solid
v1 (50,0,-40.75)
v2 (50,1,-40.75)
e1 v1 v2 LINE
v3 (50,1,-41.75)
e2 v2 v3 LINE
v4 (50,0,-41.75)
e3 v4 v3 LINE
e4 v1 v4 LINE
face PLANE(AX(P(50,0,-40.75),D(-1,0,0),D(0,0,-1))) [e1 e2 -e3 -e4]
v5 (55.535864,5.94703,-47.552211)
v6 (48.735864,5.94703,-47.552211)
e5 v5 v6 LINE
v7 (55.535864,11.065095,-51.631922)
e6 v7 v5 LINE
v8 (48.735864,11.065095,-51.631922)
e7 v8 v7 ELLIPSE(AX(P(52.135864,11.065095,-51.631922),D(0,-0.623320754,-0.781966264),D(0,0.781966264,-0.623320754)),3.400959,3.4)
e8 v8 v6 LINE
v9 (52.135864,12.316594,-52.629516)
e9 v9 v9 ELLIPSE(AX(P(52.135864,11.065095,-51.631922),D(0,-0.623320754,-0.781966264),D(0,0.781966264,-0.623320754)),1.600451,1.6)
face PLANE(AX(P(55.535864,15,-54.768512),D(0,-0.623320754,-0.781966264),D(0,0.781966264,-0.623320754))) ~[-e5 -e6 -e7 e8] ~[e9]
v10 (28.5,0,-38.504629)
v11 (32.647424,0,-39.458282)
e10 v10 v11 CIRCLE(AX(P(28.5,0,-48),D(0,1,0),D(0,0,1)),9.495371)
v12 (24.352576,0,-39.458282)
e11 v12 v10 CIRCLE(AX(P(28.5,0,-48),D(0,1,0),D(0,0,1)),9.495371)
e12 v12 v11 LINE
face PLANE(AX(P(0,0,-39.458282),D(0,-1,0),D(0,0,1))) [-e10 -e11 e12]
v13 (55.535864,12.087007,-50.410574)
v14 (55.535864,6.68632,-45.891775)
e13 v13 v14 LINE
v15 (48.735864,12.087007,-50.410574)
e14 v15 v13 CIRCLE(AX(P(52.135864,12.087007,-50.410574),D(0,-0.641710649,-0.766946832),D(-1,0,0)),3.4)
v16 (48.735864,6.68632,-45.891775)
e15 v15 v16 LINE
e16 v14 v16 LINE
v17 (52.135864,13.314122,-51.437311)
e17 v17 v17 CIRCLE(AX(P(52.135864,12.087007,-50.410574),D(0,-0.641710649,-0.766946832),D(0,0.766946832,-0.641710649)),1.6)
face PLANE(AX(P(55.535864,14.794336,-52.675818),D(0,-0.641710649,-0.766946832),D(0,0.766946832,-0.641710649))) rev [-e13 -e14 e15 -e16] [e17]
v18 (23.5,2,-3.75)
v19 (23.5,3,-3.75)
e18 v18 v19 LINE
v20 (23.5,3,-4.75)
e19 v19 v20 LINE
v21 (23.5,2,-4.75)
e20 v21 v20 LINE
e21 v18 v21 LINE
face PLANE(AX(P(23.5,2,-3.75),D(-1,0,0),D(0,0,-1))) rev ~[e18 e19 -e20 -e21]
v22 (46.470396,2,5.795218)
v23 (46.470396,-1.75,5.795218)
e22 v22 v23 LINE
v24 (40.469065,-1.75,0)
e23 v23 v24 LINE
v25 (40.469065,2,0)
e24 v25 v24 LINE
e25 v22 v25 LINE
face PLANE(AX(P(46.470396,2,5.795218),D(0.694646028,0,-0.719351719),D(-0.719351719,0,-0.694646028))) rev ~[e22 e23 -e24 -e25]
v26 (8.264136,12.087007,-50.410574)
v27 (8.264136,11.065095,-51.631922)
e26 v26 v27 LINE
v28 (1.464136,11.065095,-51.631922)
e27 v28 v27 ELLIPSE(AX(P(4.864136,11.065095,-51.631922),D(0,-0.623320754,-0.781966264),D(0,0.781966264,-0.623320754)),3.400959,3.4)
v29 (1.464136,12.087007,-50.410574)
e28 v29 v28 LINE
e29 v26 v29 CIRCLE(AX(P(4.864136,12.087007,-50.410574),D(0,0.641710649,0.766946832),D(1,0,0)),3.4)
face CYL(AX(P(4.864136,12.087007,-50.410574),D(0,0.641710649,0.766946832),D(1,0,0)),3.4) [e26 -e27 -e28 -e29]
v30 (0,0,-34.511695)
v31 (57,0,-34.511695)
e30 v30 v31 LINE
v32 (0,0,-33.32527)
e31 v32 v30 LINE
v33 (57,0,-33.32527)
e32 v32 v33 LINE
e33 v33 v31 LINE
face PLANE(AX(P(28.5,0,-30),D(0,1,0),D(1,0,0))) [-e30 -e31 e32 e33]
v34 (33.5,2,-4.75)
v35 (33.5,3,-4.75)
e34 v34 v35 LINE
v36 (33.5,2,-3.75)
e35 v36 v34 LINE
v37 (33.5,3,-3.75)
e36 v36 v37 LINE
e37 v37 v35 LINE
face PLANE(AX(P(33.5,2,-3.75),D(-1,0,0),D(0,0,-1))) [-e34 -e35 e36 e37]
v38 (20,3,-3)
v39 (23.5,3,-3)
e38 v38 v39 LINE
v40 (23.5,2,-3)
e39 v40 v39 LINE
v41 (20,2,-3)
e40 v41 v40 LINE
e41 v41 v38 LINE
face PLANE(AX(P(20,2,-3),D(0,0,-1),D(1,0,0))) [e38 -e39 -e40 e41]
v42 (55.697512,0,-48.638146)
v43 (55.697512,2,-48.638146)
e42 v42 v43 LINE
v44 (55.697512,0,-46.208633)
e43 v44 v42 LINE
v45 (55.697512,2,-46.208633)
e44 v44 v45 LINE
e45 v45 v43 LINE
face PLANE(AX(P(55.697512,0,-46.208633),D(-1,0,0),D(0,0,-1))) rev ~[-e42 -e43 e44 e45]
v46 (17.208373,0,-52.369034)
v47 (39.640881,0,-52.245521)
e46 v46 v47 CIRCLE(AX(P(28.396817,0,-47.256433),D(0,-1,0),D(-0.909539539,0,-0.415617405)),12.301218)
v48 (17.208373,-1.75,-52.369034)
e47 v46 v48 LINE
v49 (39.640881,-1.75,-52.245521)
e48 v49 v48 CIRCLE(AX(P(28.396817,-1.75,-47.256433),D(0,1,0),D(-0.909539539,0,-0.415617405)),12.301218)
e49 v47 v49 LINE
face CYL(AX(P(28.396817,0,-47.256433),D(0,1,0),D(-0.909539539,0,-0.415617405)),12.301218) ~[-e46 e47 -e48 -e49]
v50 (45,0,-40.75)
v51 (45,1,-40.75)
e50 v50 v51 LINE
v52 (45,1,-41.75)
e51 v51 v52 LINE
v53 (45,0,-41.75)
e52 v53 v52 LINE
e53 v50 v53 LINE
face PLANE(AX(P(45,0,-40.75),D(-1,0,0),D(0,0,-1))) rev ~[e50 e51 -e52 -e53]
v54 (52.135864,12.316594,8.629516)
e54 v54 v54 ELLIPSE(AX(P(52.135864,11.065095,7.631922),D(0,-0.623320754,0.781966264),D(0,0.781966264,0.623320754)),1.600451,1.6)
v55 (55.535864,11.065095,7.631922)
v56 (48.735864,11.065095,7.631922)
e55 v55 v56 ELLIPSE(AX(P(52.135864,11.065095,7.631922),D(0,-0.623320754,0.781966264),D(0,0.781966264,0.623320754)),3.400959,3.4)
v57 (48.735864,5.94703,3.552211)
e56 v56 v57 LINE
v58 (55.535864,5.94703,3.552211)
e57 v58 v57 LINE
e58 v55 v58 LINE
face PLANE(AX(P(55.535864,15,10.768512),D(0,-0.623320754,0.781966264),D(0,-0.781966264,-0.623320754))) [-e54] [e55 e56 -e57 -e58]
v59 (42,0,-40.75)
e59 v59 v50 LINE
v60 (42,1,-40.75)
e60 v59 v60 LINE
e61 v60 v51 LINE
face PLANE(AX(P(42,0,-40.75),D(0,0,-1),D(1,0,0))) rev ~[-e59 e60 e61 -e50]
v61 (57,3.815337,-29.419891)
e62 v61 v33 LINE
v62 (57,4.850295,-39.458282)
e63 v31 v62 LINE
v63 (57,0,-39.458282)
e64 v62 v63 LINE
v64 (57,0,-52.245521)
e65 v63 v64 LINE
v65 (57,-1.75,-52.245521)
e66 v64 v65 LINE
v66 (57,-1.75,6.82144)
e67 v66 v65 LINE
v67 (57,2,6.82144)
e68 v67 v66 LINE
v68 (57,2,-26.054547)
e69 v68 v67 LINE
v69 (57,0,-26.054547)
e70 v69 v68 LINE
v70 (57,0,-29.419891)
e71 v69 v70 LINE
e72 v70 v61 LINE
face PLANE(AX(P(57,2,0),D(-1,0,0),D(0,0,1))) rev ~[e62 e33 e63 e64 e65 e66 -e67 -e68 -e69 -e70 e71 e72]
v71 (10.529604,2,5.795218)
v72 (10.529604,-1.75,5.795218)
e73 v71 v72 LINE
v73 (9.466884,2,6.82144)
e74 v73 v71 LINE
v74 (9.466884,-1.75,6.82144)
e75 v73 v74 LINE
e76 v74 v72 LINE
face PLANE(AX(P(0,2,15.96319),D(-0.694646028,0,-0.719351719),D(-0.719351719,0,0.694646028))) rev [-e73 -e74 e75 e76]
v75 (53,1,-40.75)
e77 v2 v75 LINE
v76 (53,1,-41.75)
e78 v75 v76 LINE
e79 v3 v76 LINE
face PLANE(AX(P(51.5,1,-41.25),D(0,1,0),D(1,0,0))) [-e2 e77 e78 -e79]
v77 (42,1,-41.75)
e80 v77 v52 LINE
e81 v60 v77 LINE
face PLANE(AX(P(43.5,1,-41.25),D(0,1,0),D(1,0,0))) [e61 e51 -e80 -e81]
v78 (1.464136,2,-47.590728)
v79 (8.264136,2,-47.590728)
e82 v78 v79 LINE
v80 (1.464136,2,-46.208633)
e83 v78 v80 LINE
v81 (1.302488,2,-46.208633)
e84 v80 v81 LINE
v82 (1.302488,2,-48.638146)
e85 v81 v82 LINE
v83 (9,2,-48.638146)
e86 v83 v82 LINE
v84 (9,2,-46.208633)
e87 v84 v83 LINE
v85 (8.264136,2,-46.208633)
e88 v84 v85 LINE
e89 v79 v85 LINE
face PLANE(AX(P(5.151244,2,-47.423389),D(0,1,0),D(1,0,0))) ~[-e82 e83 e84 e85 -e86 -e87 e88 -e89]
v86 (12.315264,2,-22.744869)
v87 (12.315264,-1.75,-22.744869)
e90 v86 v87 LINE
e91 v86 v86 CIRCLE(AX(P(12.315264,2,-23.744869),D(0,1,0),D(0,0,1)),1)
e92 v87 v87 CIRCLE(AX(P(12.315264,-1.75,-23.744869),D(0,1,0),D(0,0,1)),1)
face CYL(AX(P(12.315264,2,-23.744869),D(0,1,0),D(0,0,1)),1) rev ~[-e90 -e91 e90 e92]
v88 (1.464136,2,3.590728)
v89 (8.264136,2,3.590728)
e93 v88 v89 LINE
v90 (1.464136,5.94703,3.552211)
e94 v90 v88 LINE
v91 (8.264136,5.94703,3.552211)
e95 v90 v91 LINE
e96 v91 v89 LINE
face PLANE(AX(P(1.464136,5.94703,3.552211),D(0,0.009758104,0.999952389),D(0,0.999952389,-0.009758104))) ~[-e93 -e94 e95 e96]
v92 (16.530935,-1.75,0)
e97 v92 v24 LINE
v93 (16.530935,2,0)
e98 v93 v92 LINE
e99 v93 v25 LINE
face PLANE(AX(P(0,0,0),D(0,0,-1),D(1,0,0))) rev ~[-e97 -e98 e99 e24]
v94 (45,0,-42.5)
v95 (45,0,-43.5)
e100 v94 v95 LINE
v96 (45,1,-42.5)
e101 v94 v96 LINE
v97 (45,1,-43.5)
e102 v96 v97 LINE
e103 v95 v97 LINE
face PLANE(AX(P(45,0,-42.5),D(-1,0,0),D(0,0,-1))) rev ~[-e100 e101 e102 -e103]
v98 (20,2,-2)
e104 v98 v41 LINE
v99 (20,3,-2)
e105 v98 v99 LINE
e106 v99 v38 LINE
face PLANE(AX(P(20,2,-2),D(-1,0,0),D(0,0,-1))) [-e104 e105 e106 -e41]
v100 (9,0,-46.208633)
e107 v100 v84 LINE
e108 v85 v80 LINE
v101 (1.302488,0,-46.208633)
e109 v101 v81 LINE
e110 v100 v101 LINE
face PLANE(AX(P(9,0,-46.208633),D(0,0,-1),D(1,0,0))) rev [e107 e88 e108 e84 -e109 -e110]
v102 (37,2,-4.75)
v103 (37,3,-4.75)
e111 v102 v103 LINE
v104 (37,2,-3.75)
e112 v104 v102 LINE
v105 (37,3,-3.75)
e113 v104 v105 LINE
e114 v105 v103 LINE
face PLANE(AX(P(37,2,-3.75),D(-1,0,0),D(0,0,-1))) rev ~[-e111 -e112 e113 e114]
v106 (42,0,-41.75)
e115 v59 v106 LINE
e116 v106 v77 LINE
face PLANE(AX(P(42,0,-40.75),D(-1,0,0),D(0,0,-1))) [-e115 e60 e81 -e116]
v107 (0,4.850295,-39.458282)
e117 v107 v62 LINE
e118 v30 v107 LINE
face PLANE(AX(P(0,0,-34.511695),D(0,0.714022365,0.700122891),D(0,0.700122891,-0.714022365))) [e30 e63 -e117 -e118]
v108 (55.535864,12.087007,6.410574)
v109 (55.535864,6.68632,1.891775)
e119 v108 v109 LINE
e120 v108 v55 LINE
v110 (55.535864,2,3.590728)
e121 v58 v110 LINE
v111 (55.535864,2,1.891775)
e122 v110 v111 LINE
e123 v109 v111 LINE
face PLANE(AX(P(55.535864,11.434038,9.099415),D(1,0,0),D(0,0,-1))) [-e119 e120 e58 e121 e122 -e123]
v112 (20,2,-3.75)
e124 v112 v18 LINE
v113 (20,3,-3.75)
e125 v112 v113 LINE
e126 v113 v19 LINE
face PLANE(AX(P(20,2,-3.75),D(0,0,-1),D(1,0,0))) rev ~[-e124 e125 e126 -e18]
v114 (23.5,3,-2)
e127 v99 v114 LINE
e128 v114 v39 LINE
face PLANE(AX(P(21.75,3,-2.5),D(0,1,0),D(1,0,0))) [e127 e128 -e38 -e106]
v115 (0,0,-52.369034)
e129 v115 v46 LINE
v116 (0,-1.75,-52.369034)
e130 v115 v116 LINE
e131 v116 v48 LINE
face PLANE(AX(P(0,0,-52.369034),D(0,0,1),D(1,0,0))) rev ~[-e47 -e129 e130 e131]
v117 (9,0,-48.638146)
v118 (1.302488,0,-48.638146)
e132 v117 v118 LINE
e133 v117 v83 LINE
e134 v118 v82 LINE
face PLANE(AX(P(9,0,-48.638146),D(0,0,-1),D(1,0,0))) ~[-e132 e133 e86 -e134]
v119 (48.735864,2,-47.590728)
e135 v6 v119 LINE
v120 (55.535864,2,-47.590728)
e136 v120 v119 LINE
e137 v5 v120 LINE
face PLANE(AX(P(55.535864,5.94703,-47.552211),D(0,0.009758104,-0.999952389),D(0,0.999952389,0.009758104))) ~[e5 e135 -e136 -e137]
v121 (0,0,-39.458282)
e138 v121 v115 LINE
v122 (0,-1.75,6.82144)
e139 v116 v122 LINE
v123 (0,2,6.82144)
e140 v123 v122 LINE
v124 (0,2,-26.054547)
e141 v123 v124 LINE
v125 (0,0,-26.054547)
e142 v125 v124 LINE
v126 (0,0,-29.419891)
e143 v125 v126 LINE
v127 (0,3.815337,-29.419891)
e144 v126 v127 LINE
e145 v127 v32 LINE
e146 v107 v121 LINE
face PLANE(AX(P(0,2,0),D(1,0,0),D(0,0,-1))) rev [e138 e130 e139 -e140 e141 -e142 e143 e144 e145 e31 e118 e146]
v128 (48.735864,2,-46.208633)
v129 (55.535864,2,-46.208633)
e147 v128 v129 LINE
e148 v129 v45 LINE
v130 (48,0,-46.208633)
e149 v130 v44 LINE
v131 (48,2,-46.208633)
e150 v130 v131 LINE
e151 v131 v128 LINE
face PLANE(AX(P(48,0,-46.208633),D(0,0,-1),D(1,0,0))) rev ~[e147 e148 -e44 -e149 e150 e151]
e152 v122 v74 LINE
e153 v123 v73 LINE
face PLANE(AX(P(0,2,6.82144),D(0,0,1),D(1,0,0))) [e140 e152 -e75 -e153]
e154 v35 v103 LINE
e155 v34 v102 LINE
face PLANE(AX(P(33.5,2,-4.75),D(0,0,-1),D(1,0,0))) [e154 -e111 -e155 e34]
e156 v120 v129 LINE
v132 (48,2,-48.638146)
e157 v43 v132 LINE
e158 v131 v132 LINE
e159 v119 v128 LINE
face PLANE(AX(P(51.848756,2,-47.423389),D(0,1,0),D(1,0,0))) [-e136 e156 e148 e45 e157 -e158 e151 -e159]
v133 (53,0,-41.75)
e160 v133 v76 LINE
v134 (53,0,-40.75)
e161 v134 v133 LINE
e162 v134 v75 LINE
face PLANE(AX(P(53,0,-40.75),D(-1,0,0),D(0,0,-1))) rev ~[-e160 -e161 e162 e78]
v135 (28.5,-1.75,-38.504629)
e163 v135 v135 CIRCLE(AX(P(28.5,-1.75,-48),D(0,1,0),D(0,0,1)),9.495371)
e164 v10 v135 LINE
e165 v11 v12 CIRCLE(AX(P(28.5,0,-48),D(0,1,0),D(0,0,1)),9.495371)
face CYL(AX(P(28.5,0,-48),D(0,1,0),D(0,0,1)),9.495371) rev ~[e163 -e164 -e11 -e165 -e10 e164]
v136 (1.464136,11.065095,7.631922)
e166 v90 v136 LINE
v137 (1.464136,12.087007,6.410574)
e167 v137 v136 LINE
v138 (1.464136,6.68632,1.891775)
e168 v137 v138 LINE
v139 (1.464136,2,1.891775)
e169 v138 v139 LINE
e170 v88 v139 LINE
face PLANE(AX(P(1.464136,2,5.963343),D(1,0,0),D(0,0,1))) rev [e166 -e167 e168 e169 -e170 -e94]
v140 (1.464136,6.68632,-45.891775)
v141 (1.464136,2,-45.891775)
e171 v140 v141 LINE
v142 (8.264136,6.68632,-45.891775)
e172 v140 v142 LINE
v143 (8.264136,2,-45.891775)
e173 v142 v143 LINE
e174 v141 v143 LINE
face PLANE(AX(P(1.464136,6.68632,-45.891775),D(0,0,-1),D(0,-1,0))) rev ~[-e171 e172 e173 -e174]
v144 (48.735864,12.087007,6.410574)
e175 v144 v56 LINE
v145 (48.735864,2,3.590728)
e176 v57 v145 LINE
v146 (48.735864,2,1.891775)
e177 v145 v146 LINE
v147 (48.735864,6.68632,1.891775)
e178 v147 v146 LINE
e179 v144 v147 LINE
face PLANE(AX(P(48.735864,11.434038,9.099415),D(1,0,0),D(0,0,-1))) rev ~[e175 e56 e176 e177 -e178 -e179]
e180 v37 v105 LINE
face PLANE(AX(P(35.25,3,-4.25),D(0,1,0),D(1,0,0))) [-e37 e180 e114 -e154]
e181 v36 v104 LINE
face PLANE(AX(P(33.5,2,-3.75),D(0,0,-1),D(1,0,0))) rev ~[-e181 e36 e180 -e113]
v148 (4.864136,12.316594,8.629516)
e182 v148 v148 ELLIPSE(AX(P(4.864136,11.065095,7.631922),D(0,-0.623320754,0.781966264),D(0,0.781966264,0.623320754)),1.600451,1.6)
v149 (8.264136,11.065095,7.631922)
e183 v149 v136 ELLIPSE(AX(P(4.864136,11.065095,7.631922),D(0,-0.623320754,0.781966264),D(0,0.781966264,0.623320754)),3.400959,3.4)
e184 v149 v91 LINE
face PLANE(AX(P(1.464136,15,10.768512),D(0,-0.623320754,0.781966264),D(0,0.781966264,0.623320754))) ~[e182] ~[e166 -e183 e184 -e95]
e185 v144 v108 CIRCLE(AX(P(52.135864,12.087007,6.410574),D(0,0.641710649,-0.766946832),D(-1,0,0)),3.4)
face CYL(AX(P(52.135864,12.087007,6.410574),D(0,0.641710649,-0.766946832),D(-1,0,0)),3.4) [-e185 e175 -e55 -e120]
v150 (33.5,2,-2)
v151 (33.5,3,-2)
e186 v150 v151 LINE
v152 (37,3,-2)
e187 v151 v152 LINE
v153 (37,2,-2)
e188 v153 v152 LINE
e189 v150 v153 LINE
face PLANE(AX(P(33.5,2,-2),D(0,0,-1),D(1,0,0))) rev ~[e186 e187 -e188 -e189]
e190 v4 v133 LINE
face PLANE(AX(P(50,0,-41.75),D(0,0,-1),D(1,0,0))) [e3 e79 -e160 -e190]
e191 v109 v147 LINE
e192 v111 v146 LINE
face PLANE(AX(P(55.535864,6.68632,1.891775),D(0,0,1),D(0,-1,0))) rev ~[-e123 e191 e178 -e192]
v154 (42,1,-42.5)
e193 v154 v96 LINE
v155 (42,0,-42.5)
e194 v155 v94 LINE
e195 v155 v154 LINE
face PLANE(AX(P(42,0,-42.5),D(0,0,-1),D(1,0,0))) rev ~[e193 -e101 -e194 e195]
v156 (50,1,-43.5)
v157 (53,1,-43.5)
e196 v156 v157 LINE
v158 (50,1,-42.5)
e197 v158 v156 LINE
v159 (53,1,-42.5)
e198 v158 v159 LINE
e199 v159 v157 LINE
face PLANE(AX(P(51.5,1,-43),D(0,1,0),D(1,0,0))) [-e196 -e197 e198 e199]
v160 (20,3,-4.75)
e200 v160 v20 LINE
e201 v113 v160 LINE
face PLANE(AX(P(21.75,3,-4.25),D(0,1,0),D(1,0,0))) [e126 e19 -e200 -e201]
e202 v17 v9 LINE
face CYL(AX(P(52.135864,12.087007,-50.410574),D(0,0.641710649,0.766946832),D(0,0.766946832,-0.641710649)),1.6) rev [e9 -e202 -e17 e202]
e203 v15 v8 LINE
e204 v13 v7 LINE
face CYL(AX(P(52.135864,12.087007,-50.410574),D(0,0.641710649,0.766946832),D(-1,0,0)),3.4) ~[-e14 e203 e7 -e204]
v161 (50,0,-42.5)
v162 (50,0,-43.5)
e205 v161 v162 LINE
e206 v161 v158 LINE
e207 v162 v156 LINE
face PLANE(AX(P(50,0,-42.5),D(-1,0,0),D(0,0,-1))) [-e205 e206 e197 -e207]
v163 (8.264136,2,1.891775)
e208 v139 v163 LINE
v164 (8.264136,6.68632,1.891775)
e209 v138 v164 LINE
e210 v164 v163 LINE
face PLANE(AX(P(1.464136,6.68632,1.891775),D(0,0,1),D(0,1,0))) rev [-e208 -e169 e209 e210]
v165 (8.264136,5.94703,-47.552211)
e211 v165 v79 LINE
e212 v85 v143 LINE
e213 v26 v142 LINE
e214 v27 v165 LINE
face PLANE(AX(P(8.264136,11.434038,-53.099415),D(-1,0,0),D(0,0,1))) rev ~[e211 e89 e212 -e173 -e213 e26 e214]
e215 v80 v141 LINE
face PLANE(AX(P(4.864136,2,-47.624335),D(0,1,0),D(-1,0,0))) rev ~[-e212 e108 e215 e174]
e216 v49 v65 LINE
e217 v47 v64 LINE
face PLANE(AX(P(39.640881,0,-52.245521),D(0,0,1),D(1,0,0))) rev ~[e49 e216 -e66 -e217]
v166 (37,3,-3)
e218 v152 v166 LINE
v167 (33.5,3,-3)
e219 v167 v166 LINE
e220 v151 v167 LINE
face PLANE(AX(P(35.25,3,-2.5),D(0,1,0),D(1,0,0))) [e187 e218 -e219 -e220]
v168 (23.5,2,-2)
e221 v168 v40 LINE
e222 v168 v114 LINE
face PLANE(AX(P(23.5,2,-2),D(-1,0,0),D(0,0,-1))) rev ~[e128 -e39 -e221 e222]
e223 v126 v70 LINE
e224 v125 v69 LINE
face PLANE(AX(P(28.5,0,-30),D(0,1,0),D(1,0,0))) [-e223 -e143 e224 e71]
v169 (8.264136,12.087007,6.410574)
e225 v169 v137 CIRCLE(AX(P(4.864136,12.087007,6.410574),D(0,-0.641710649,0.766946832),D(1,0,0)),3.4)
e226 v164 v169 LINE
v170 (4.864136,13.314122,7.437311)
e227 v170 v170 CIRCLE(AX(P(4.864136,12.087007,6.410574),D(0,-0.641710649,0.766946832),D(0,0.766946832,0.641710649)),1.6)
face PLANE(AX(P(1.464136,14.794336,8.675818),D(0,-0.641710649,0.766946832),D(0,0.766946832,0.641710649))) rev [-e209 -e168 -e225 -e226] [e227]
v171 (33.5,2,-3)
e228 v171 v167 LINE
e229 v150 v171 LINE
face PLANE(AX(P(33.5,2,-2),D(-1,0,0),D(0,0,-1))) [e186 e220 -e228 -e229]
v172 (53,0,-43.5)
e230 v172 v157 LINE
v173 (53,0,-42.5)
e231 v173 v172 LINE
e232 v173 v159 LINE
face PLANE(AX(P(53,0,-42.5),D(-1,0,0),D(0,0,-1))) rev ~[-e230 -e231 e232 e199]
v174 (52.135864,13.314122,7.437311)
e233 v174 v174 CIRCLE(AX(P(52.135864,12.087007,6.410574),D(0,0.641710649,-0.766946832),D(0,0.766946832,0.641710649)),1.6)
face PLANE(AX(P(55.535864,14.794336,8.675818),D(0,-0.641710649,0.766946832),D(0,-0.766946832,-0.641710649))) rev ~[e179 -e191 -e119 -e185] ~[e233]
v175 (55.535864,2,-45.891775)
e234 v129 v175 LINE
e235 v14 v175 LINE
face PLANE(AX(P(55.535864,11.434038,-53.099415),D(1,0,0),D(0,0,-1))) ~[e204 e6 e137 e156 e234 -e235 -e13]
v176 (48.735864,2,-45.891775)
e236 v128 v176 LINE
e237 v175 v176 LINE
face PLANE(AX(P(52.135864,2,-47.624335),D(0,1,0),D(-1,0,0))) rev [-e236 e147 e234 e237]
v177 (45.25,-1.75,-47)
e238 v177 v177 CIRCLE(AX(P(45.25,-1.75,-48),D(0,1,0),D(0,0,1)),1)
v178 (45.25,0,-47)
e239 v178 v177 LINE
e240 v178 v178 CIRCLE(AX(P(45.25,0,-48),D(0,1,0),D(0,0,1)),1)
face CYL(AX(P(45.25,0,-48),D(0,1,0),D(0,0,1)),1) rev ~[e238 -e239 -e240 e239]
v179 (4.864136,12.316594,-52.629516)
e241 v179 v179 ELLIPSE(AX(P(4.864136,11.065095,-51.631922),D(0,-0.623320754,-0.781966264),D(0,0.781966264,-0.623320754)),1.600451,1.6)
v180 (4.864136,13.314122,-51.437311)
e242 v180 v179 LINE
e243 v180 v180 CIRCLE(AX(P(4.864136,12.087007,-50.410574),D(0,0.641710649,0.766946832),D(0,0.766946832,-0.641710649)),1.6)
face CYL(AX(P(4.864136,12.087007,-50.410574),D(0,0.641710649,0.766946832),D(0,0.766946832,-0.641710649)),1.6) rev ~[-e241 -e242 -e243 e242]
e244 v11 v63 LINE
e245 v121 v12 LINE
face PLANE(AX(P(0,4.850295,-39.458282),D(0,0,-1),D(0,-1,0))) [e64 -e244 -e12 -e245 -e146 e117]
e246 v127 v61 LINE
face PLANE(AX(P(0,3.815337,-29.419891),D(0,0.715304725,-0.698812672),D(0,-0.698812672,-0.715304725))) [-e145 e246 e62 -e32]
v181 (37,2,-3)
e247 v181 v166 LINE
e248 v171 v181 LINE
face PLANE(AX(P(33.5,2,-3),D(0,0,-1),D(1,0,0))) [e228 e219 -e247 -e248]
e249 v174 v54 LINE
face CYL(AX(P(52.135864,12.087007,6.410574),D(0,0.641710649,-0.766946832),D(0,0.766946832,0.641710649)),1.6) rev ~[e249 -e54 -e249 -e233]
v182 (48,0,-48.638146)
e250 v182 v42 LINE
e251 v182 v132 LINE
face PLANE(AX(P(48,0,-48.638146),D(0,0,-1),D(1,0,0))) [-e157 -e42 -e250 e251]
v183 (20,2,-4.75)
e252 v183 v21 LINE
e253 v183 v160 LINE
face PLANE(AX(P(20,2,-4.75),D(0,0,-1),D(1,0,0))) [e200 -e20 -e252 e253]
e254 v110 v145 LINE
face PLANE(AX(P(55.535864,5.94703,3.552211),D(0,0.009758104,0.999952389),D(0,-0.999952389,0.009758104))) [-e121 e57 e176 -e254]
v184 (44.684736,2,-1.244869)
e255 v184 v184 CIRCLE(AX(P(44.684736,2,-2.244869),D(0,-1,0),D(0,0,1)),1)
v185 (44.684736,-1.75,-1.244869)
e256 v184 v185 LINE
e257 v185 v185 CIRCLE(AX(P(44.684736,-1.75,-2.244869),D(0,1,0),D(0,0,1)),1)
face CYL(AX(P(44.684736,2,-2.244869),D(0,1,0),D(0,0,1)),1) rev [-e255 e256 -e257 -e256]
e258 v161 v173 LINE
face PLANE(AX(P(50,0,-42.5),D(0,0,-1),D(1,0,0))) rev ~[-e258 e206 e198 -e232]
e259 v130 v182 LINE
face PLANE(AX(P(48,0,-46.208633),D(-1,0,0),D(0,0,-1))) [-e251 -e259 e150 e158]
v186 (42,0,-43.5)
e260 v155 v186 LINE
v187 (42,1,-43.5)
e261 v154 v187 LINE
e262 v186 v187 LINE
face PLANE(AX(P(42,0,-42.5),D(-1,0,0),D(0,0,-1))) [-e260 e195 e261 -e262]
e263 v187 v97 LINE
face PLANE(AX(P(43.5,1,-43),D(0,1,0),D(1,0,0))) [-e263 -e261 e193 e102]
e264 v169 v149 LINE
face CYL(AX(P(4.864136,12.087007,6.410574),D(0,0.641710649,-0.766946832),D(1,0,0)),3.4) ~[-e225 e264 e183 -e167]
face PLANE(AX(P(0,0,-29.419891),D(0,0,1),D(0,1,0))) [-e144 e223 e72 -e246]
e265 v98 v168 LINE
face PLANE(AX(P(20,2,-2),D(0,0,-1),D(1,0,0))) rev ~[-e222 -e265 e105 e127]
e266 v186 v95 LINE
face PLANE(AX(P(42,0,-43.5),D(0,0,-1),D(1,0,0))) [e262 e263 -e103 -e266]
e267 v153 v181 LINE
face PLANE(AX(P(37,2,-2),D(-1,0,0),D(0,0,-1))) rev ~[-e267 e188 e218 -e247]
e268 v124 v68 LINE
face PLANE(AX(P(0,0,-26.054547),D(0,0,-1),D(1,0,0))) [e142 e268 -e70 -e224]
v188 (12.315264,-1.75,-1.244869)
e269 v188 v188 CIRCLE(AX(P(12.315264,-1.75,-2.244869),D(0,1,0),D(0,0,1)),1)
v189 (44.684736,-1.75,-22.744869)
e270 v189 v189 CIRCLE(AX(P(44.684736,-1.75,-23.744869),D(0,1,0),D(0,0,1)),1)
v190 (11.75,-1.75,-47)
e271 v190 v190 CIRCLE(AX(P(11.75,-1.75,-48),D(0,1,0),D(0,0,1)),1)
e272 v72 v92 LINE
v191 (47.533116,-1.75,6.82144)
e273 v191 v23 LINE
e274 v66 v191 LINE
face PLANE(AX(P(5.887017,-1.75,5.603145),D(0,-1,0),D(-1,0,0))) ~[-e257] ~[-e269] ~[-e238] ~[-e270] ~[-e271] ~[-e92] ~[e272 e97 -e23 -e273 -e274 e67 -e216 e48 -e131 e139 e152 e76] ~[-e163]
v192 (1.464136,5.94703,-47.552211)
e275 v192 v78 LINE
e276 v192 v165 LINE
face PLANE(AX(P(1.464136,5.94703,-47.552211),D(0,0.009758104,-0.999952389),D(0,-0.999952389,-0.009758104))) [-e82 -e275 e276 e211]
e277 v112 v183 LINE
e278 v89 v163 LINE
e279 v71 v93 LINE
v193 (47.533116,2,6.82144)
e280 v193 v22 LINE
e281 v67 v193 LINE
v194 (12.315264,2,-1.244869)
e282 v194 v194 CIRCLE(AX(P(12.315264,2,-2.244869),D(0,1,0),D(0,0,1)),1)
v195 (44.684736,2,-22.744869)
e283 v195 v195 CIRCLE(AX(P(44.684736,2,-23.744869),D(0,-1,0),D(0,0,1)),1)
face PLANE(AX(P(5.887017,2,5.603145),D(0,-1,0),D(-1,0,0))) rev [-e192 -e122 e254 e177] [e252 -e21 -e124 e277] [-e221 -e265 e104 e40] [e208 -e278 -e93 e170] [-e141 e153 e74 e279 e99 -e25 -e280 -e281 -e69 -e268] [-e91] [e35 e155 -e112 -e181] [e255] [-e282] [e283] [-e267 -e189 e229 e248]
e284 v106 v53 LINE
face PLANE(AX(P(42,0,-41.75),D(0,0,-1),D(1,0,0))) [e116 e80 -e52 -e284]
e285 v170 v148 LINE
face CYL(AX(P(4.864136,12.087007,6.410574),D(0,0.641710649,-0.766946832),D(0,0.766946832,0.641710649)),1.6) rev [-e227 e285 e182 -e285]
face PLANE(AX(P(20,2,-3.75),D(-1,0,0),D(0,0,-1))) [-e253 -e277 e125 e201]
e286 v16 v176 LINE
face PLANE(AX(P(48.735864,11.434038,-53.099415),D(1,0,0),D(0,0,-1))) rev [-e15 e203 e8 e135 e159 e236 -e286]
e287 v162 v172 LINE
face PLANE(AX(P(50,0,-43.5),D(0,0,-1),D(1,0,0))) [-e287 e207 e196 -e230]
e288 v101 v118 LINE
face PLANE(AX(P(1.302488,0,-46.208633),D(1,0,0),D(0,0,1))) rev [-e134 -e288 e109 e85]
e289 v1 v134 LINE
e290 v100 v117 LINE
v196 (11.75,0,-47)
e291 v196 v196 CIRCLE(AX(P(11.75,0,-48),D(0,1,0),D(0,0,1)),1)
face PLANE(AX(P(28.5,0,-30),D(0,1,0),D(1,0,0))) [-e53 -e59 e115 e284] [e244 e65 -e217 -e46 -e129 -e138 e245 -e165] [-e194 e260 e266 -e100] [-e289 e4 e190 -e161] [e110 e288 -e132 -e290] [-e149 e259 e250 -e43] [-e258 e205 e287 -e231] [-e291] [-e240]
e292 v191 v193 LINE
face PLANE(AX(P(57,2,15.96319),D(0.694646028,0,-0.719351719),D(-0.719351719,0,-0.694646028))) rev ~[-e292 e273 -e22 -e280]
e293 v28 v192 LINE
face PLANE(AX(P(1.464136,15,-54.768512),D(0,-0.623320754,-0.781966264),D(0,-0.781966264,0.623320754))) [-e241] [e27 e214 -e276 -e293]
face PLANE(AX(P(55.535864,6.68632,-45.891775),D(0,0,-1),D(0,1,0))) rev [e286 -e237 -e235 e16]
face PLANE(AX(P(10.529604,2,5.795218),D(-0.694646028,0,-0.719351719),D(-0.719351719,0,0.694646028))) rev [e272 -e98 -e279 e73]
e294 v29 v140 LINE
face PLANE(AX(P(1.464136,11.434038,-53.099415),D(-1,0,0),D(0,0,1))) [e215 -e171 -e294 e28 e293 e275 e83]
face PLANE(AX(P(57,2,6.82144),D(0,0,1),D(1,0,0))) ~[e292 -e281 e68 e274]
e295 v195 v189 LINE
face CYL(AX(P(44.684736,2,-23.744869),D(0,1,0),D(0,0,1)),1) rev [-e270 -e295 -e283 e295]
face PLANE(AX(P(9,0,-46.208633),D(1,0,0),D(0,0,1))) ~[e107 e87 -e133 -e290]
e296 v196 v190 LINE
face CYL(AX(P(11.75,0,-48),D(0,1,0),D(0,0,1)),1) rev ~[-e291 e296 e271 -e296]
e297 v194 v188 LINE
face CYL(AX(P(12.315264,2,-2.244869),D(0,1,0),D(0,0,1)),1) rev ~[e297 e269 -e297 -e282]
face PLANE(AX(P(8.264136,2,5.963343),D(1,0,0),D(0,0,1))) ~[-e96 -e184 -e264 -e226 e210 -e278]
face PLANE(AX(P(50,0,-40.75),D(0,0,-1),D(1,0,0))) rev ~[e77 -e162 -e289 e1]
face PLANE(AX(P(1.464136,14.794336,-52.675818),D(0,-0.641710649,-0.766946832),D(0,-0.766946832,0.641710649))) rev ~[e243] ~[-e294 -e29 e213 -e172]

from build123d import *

# Parameters (mm, degrees)
SKIZZE1_W                        = 57
SKIZZE1_H                        = 60
AUFSATZ_LINEAR_AUSTRAGEN1_DEPTH  = 1.75
SKIZZE3_R                        = 9.495370676
SCHNITT_LINEAR_AUSTRAGEN1_DEPTH  = 2
SKIZZE4_W                        = 57
SKIZZE4_H                        = 26.054547174
AUFSATZ_LINEAR_AUSTRAGEN2_DEPTH  = 2
SKIZZE5_R                        = 1
SCHNITT_LINEAR_AUSTRAGEN2_DEPTH  = 4
AUFSATZ_LINEAR_AUSTRAGEN3_DEPTH  = 57
SKIZZE10_R                       = 1
SCHNITT_LINEAR_AUSTRAGEN3_DEPTH  = 2
AUFSATZ_LINEAR_AUSTRAGEN4_DEPTH  = 57
SKIZZE13_W                       = 3
SKIZZE13_H                       = 1
AUFSATZ_LINEAR_AUSTRAGEN6_DEPTH  = 1
SKIZZE16_W                       = 3.5
SKIZZE16_H                       = 1
AUFSATZ_LINEAR_AUSTRAGEN9_DEPTH  = 1
AUFSATZ_LINEAR_AUSTRAGEN11_DEPTH = 3.75
SKIZZE25_W                       = 6.8
SKIZZE25_H                       = 4.678014598
AUFSATZ_LINEAR_AUSTRAGEN12_DEPTH = 13
SKIZZE26_W                       = 6.272143652
SKIZZE26_H                       = 7.131924913
AUFSATZ_LINEAR_AUSTRAGEN13_DEPTH = 6.8
SCHNITT_LINEAR_AUSTRAGEN5_DEPTH  = 6.8
SCHNITT_LINEAR_AUSTRAGEN6_DEPTH  = 6.8
SCHNITT_LINEAR_AUSTRAGEN8_DEPTH  = 3.8
SKIZZE30_R                       = 1.6
SCHNITT_LINEAR_AUSTRAGEN9_DEPTH  = 3.8
SKIZZE31_W                       = 7.69751232
SKIZZE31_H                       = 2.429513609
AUFSATZ_LINEAR_AUSTRAGEN15_DEPTH = 2
SPIEGELN9_COPY_1_SKETCH_W        = 6.8
SPIEGELN9_COPY_1_SKETCH_H        = 4.678014598
SPIEGELN9_COPY_1_DEPTH           = 13
SPIEGELN9_COPY_2_SKETCH_W        = 6.272143652
SPIEGELN9_COPY_2_SKETCH_H        = 7.131924913
SPIEGELN9_COPY_2_DEPTH           = 6.8
SPIEGELN9_COPY_3_DEPTH           = 6.8
SPIEGELN9_COPY_4_DEPTH           = 6.8
SPIEGELN9_COPY_5_DEPTH           = 3.8
SPIEGELN9_COPY_6_SKETCH_R        = 1.6
SPIEGELN9_COPY_6_DEPTH           = 3.8
SCHNITT_LINEAR_AUSTRAGEN10_DEPTH = 10
SCHNITT_LINEAR_AUSTRAGEN11_DEPTH = 10


with BuildPart() as part:
    # Skizze1 → Aufsatz-Linear austragen1 (new body)
    with BuildSketch(Plane(origin=(0, 0, 0), x_dir=(1, 0, 0), z_dir=(0, 1, 0))):
        with Locations((28.5, 30)):
            Rectangle(SKIZZE1_W, SKIZZE1_H)
    extrude(amount=-AUFSATZ_LINEAR_AUSTRAGEN1_DEPTH)

    # Skizze3 → Schnitt-Linear austragen1 (cut)
    with BuildSketch(Plane(origin=(0, 0, 0), x_dir=(1, 0, 0), z_dir=(0, 1, 0))):
        with Locations(Location((28.5, 48, 0), (0, 0, 270))):
            Circle(SKIZZE3_R)
    extrude(amount=-SCHNITT_LINEAR_AUSTRAGEN1_DEPTH, mode=Mode.SUBTRACT)

    # Skizze4 → Aufsatz-Linear austragen2 (add)
    with BuildSketch(Plane(origin=(0, 0, 0), x_dir=(1, 0, 0), z_dir=(0, 1, 0))):
        with Locations((28.5, 13.027273587)):
            Rectangle(SKIZZE4_W, SKIZZE4_H)
    extrude(amount=AUFSATZ_LINEAR_AUSTRAGEN2_DEPTH)

    # Skizze5 → Schnitt-Linear austragen2 (cut)
    with BuildSketch(Plane(origin=(0, 2, 0), x_dir=(1, 0, 0), z_dir=(0, 1, 0))):
        with Locations(Location((12.315263515, 23.744868689, 0), (0, 0, 270))):
            Circle(SKIZZE5_R)
        with Locations(Location((12.315263515, 2.244868689, 0), (0, 0, 270))):
            Circle(SKIZZE5_R)
    schnitt_linear_austragen2 = extrude(amount=-SCHNITT_LINEAR_AUSTRAGEN2_DEPTH, mode=Mode.SUBTRACT)

    # Spiegeln1: Schnitt-Linear austragen2 across plane
    add(schnitt_linear_austragen2.mirror(Plane.ZY.offset(-28.5)), mode=Mode.SUBTRACT)

    # Skizze8 → Aufsatz-Linear austragen3 (add)
    with BuildSketch(Plane.ZY):
        Polygon((-29.419890543, 3.815337259), (-33.325270164, 0), (-29.419890543, 0), align=None)
    extrude(amount=-AUFSATZ_LINEAR_AUSTRAGEN3_DEPTH)

    # Skizze10 → Schnitt-Linear austragen3 (cut)
    with BuildSketch(Plane(origin=(0, 0, 0), x_dir=(1, 0, 0), z_dir=(0, 1, 0))):
        with Locations(Location((45.25, 48, 0), (0, 0, 270))):
            Circle(SKIZZE10_R)
        with Locations(Location((11.75, 48, 0), (0, 0, 270))):
            Circle(SKIZZE10_R)
    extrude(amount=-SCHNITT_LINEAR_AUSTRAGEN3_DEPTH, mode=Mode.SUBTRACT)

    # Skizze11 → Aufsatz-Linear austragen4 (add)
    with BuildSketch(Plane.ZY):
        Polygon((-39.458282478, 4.85029471), (-39.458282478, 0), (-34.51169532, 0), align=None)
    extrude(amount=-AUFSATZ_LINEAR_AUSTRAGEN4_DEPTH)

    # Skizze13 → Aufsatz-Linear austragen6 (add)
    with BuildSketch(Plane(origin=(0, 0, 0), x_dir=(1, 0, 0), z_dir=(0, 1, 0))):
        with Locations((51.5, 43)):
            Rectangle(SKIZZE13_W, SKIZZE13_H)
        with Locations((43.5, 43)):
            Rectangle(SKIZZE13_W, SKIZZE13_H)
        with Locations((51.5, 41.25)):
            Rectangle(SKIZZE13_W, SKIZZE13_H)
        with Locations((43.5, 41.25)):
            Rectangle(SKIZZE13_W, SKIZZE13_H)
    extrude(amount=AUFSATZ_LINEAR_AUSTRAGEN6_DEPTH)

    # Skizze16 → Aufsatz-Linear austragen9 (add)
    with BuildSketch(Plane(origin=(0, 2, 0), x_dir=(1, 0, 0), z_dir=(0, 1, 0))):
        with Locations((21.75, 2.5)):
            Rectangle(SKIZZE16_W, SKIZZE16_H)
        with Locations((35.25, 2.5)):
            Rectangle(SKIZZE16_W, SKIZZE16_H)
        with Locations((21.75, 4.25)):
            Rectangle(SKIZZE16_W, SKIZZE16_H)
        with Locations((35.25, 4.25)):
            Rectangle(SKIZZE16_W, SKIZZE16_H)
    extrude(amount=AUFSATZ_LINEAR_AUSTRAGEN9_DEPTH)

    # Skizze24 → Aufsatz-Linear austragen11 (add)
    with BuildSketch(Plane(origin=(0, 2, 0), x_dir=(1, 0, 0), z_dir=(0, 1, 0))):
        Polygon((57, 0), (57, -15.963189927), (46.470395694, -5.79521838), (40.469065327, 0), align=None)
    aufsatz_linear_austragen11 = extrude(amount=-AUFSATZ_LINEAR_AUSTRAGEN11_DEPTH)

    # Spiegeln2: Aufsatz-Linear austragen11 across plane
    add(aufsatz_linear_austragen11.mirror(Plane.ZY.offset(-28.5)))

    # Skizze25 → Aufsatz-Linear austragen12 (add)
    with BuildSketch(Plane(origin=(0, 2, 0), x_dir=(1, 0, 0), z_dir=(0, 1, 0))):
        with Locations((52.135864274, -3.62433538)):
            Rectangle(SKIZZE25_W, SKIZZE25_H)
    aufsatz_linear_austragen12 = extrude(amount=AUFSATZ_LINEAR_AUSTRAGEN12_DEPTH)

    # Skizze26 → Aufsatz-Linear austragen13 (add)
    with BuildSketch(Plane(origin=(55.535864274, 0, 0), x_dir=(0, 0, -1), z_dir=(1, 0, 0))):
        with Locations((-9.099414505, 11.434037544)):
            Rectangle(SKIZZE26_W, SKIZZE26_H)
    aufsatz_linear_austragen13 = extrude(amount=-AUFSATZ_LINEAR_AUSTRAGEN13_DEPTH)

    # Skizze27 → Schnitt-Linear austragen5 (cut)
    with BuildSketch(Plane(origin=(55.535864274, 0, 0), x_dir=(0, 0, -1), z_dir=(1, 0, 0))):
        Polygon((-10.768511785, 15), (-3.552210741, 5.947030188), (-3.590728104, 2), (-6.081048451, 2), (-5.963342679, 7.868075087), (-12.235486331, 7.868075087), (-12.235486331, 15), align=None)
    schnitt_linear_austragen5 = extrude(amount=-SCHNITT_LINEAR_AUSTRAGEN5_DEPTH, mode=Mode.SUBTRACT)

    # Skizze28 → Schnitt-Linear austragen6 (cut)
    with BuildSketch(Plane(origin=(55.535864274, 0, 0), x_dir=(0, 0, -1), z_dir=(1, 0, 0))):
        Polygon((-9.855196272, 13.854230483), (-8.675818052, 14.794336156), (-1.891775147, 6.686320141), (-1.891775147, 2), (-1.241465065, 2), (-1.241465065, 15.430103774), (-11.112831421, 15.430103774), align=None)
    schnitt_linear_austragen6 = extrude(amount=-SCHNITT_LINEAR_AUSTRAGEN6_DEPTH, mode=Mode.SUBTRACT)

    # Skizze29 → Schnitt-Linear austragen8 (cut)
    with BuildSketch(Plane(origin=(0, 1.822324688, -2.177969385), x_dir=(-1, 0, 0), z_dir=(0, 0.6417106486161895, -0.7669468322201934))):
        with BuildLine():
            Line((-55.535864274, 13.383825147), (-55.535864274, 17.083825147))
            Line((-55.535864274, 17.083825147), (-48.735864274, 17.083825147))
            Line((-48.735864274, 17.083825147), (-48.735864274, 13.383825147))
            ThreePointArc((-48.735864274, 13.383825147), (-52.135864274, 16.783825147), (-55.535864274, 13.383825147))
        make_face()
    schnitt_linear_austragen8 = extrude(amount=-SCHNITT_LINEAR_AUSTRAGEN8_DEPTH, mode=Mode.SUBTRACT)

    # Skizze30 → Schnitt-Linear austragen9 (cut)
    with BuildSketch(Plane(origin=(0, 1.822324688, -2.177969385), x_dir=(-1, 0, 0), z_dir=(0, 0.6417106486161896, -0.7669468322201933))):
        with Locations(Location((-52.135864274, 13.383825147, 0), (0, 0, 90))):
            Circle(SKIZZE30_R)
    schnitt_linear_austragen9 = extrude(amount=-SCHNITT_LINEAR_AUSTRAGEN9_DEPTH, mode=Mode.SUBTRACT)

    # Spiegeln6: Aufsatz-Linear austragen12, Aufsatz-Linear austragen13, Schnitt-Linear austragen5, Schnitt-Linear austragen6, Schnitt-Linear austragen8, Schnitt-Linear austragen9 across plane
    add(aufsatz_linear_austragen12.mirror(Plane.ZY.offset(-28.5)))
    add(aufsatz_linear_austragen13.mirror(Plane.ZY.offset(-28.5)))
    add(schnitt_linear_austragen5.mirror(Plane.ZY.offset(-28.5)), mode=Mode.SUBTRACT)
    add(schnitt_linear_austragen6.mirror(Plane.ZY.offset(-28.5)), mode=Mode.SUBTRACT)
    add(schnitt_linear_austragen8.mirror(Plane.ZY.offset(-28.5)), mode=Mode.SUBTRACT)
    add(schnitt_linear_austragen9.mirror(Plane.ZY.offset(-28.5)), mode=Mode.SUBTRACT)

    # Skizze31 → Aufsatz-Linear austragen15 (add)
    with BuildSketch(Plane(origin=(0, 0, 0), x_dir=(1, 0, 0), z_dir=(0, 1, 0))):
        with Locations((51.84875616, 47.423389314)):
            Rectangle(SKIZZE31_W, SKIZZE31_H)
    aufsatz_linear_austragen15 = extrude(amount=AUFSATZ_LINEAR_AUSTRAGEN15_DEPTH)

    # Spiegeln8: Aufsatz-Linear austragen12, Aufsatz-Linear austragen13, Schnitt-Linear austragen5, Schnitt-Linear austragen6, Schnitt-Linear austragen8, Schnitt-Linear austragen9 across plane
    add(aufsatz_linear_austragen12.mirror(Plane(origin=(0, 0, -22), x_dir=(1, 0, 0), z_dir=(0, 0, -1))))
    add(aufsatz_linear_austragen13.mirror(Plane(origin=(0, 0, -22), x_dir=(1, 0, 0), z_dir=(0, 0, -1))))
    add(schnitt_linear_austragen5.mirror(Plane(origin=(0, 0, -22), x_dir=(1, 0, 0), z_dir=(0, 0, -1))), mode=Mode.SUBTRACT)
    add(schnitt_linear_austragen6.mirror(Plane(origin=(0, 0, -22), x_dir=(1, 0, 0), z_dir=(0, 0, -1))), mode=Mode.SUBTRACT)
    add(schnitt_linear_austragen8.mirror(Plane(origin=(0, 0, -22), x_dir=(1, 0, 0), z_dir=(0, 0, -1))), mode=Mode.SUBTRACT)
    add(schnitt_linear_austragen9.mirror(Plane(origin=(0, 0, -22), x_dir=(1, 0, 0), z_dir=(0, 0, -1))), mode=Mode.SUBTRACT)

    # Spiegeln9: Aufsatz-Linear austragen12, Schnitt-Linear austragen5, Schnitt-Linear austragen6, Schnitt-Linear austragen8, Schnitt-Linear austragen9, Aufsatz-Linear austragen15 across plane
    add(aufsatz_linear_austragen12.mirror(Plane.ZY.offset(-28.5)))
    add(schnitt_linear_austragen5.mirror(Plane.ZY.offset(-28.5)), mode=Mode.SUBTRACT)
    add(schnitt_linear_austragen6.mirror(Plane.ZY.offset(-28.5)), mode=Mode.SUBTRACT)
    add(schnitt_linear_austragen8.mirror(Plane.ZY.offset(-28.5)), mode=Mode.SUBTRACT)
    add(schnitt_linear_austragen9.mirror(Plane.ZY.offset(-28.5)), mode=Mode.SUBTRACT)
    add(aufsatz_linear_austragen15.mirror(Plane.ZY.offset(-28.5)))

    # Spiegeln9 copy 1 sketch → Spiegeln9 copy 1 (add)
    with BuildSketch(Plane(origin=(57, 2, -44), x_dir=(-1, 0, 0), z_dir=(0, 1, 0))):
        with Locations((52.135864274, -3.62433538)):
            Rectangle(SPIEGELN9_COPY_1_SKETCH_W, SPIEGELN9_COPY_1_SKETCH_H)
    extrude(amount=SPIEGELN9_COPY_1_DEPTH)

    # Spiegeln9 copy 2 sketch → Spiegeln9 copy 2 (add)
    with BuildSketch(Plane(origin=(1.464135726, 0, -44), x_dir=(0, 0, 1), z_dir=(-1, 0, 0))):
        with Locations((-9.099414505, 11.434037544)):
            Rectangle(SPIEGELN9_COPY_2_SKETCH_W, SPIEGELN9_COPY_2_SKETCH_H)
    extrude(amount=-SPIEGELN9_COPY_2_DEPTH)

    # Spiegeln9 copy 3 sketch → Spiegeln9 copy 3 (cut)
    with BuildSketch(Plane(origin=(1.464135726, 0, -44), x_dir=(0, 0, 1), z_dir=(-1, 0, 0))):
        Polygon((-10.768511785, 15), (-3.552210741, 5.947030188), (-3.590728104, 2), (-6.081048451, 2), (-5.963342679, 7.868075087), (-12.235486331, 7.868075087), (-12.235486331, 15), align=None)
    extrude(amount=-SPIEGELN9_COPY_3_DEPTH, mode=Mode.SUBTRACT)

    # Spiegeln9 copy 4 sketch → Spiegeln9 copy 4 (cut)
    with BuildSketch(Plane(origin=(1.464135726, 0, -44), x_dir=(0, 0, 1), z_dir=(-1, 0, 0))):
        Polygon((-9.855196272, 13.854230483), (-8.675818052, 14.794336156), (-1.891775147, 6.686320141), (-1.891775147, 2), (-1.241465065, 2), (-1.241465065, 15.430103774), (-11.112831421, 15.430103774), align=None)
    extrude(amount=-SPIEGELN9_COPY_4_DEPTH, mode=Mode.SUBTRACT)

    # Spiegeln9 copy 5 sketch → Spiegeln9 copy 5 (cut)
    with BuildSketch(Plane(origin=(57, 1.822324688, -41.822030615), x_dir=(1, 0, 0), z_dir=(0, 0.6417106486161895, 0.7669468322201934))):
        with BuildLine():
            Line((-55.535864274, 13.383825147), (-55.535864274, 17.083825147))
            Line((-55.535864274, 17.083825147), (-48.735864274, 17.083825147))
            Line((-48.735864274, 17.083825147), (-48.735864274, 13.383825147))
            ThreePointArc((-48.735864274, 13.383825147), (-52.135864274, 16.783825147), (-55.535864274, 13.383825147))
        make_face()
    extrude(amount=-SPIEGELN9_COPY_5_DEPTH, mode=Mode.SUBTRACT)

    # Spiegeln9 copy 6 sketch → Spiegeln9 copy 6 (cut)
    with BuildSketch(Plane(origin=(57, 1.822324688, -41.822030615), x_dir=(1, 0, 0), z_dir=(0, 0.6417106486161896, 0.7669468322201933))):
        with Locations(Location((-52.135864274, 13.383825147, 0), (0, 0, 90))):
            Circle(SPIEGELN9_COPY_6_SKETCH_R)
    extrude(amount=-SPIEGELN9_COPY_6_DEPTH, mode=Mode.SUBTRACT)

    # Skizze36 → Schnitt-Linear austragen10 (cut)
    with BuildSketch(Plane(origin=(0, 0, 0), x_dir=(1, 0, 0), z_dir=(0, 1, 0))):
        with BuildLine():
            Line((0, 52.369033875), (17.208372804, 52.369033875))
            ThreePointArc((17.208372804, 52.369033875), (28.464546382, 59.557465407), (39.640881486, 52.2455214))
            Line((39.640881486, 52.2455214), (57, 52.2455214))
            Line((57, 52.2455214), (57, 60))
            Line((57, 60), (0, 60))
            Line((0, 60), (0, 52.369033875))
        make_face()
    extrude(amount=-SCHNITT_LINEAR_AUSTRAGEN10_DEPTH, mode=Mode.SUBTRACT)

    # Skizze37 → Schnitt-Linear austragen11 (cut)
    with BuildSketch(Plane(origin=(0, 2, 0), x_dir=(1, 0, 0), z_dir=(0, 1, 0))):
        Polygon((0, -6.821439936), (9.576067719, -6.821439936), (0, -15.963189927), align=None)
    schnitt_linear_austragen11 = extrude(amount=-SCHNITT_LINEAR_AUSTRAGEN11_DEPTH, mode=Mode.SUBTRACT)

    # Spiegeln10: Schnitt-Linear austragen11 across plane
    add(schnitt_linear_austragen11.mirror(Plane.ZY.offset(-28.5)), mode=Mode.SUBTRACT)


solid = part.part
